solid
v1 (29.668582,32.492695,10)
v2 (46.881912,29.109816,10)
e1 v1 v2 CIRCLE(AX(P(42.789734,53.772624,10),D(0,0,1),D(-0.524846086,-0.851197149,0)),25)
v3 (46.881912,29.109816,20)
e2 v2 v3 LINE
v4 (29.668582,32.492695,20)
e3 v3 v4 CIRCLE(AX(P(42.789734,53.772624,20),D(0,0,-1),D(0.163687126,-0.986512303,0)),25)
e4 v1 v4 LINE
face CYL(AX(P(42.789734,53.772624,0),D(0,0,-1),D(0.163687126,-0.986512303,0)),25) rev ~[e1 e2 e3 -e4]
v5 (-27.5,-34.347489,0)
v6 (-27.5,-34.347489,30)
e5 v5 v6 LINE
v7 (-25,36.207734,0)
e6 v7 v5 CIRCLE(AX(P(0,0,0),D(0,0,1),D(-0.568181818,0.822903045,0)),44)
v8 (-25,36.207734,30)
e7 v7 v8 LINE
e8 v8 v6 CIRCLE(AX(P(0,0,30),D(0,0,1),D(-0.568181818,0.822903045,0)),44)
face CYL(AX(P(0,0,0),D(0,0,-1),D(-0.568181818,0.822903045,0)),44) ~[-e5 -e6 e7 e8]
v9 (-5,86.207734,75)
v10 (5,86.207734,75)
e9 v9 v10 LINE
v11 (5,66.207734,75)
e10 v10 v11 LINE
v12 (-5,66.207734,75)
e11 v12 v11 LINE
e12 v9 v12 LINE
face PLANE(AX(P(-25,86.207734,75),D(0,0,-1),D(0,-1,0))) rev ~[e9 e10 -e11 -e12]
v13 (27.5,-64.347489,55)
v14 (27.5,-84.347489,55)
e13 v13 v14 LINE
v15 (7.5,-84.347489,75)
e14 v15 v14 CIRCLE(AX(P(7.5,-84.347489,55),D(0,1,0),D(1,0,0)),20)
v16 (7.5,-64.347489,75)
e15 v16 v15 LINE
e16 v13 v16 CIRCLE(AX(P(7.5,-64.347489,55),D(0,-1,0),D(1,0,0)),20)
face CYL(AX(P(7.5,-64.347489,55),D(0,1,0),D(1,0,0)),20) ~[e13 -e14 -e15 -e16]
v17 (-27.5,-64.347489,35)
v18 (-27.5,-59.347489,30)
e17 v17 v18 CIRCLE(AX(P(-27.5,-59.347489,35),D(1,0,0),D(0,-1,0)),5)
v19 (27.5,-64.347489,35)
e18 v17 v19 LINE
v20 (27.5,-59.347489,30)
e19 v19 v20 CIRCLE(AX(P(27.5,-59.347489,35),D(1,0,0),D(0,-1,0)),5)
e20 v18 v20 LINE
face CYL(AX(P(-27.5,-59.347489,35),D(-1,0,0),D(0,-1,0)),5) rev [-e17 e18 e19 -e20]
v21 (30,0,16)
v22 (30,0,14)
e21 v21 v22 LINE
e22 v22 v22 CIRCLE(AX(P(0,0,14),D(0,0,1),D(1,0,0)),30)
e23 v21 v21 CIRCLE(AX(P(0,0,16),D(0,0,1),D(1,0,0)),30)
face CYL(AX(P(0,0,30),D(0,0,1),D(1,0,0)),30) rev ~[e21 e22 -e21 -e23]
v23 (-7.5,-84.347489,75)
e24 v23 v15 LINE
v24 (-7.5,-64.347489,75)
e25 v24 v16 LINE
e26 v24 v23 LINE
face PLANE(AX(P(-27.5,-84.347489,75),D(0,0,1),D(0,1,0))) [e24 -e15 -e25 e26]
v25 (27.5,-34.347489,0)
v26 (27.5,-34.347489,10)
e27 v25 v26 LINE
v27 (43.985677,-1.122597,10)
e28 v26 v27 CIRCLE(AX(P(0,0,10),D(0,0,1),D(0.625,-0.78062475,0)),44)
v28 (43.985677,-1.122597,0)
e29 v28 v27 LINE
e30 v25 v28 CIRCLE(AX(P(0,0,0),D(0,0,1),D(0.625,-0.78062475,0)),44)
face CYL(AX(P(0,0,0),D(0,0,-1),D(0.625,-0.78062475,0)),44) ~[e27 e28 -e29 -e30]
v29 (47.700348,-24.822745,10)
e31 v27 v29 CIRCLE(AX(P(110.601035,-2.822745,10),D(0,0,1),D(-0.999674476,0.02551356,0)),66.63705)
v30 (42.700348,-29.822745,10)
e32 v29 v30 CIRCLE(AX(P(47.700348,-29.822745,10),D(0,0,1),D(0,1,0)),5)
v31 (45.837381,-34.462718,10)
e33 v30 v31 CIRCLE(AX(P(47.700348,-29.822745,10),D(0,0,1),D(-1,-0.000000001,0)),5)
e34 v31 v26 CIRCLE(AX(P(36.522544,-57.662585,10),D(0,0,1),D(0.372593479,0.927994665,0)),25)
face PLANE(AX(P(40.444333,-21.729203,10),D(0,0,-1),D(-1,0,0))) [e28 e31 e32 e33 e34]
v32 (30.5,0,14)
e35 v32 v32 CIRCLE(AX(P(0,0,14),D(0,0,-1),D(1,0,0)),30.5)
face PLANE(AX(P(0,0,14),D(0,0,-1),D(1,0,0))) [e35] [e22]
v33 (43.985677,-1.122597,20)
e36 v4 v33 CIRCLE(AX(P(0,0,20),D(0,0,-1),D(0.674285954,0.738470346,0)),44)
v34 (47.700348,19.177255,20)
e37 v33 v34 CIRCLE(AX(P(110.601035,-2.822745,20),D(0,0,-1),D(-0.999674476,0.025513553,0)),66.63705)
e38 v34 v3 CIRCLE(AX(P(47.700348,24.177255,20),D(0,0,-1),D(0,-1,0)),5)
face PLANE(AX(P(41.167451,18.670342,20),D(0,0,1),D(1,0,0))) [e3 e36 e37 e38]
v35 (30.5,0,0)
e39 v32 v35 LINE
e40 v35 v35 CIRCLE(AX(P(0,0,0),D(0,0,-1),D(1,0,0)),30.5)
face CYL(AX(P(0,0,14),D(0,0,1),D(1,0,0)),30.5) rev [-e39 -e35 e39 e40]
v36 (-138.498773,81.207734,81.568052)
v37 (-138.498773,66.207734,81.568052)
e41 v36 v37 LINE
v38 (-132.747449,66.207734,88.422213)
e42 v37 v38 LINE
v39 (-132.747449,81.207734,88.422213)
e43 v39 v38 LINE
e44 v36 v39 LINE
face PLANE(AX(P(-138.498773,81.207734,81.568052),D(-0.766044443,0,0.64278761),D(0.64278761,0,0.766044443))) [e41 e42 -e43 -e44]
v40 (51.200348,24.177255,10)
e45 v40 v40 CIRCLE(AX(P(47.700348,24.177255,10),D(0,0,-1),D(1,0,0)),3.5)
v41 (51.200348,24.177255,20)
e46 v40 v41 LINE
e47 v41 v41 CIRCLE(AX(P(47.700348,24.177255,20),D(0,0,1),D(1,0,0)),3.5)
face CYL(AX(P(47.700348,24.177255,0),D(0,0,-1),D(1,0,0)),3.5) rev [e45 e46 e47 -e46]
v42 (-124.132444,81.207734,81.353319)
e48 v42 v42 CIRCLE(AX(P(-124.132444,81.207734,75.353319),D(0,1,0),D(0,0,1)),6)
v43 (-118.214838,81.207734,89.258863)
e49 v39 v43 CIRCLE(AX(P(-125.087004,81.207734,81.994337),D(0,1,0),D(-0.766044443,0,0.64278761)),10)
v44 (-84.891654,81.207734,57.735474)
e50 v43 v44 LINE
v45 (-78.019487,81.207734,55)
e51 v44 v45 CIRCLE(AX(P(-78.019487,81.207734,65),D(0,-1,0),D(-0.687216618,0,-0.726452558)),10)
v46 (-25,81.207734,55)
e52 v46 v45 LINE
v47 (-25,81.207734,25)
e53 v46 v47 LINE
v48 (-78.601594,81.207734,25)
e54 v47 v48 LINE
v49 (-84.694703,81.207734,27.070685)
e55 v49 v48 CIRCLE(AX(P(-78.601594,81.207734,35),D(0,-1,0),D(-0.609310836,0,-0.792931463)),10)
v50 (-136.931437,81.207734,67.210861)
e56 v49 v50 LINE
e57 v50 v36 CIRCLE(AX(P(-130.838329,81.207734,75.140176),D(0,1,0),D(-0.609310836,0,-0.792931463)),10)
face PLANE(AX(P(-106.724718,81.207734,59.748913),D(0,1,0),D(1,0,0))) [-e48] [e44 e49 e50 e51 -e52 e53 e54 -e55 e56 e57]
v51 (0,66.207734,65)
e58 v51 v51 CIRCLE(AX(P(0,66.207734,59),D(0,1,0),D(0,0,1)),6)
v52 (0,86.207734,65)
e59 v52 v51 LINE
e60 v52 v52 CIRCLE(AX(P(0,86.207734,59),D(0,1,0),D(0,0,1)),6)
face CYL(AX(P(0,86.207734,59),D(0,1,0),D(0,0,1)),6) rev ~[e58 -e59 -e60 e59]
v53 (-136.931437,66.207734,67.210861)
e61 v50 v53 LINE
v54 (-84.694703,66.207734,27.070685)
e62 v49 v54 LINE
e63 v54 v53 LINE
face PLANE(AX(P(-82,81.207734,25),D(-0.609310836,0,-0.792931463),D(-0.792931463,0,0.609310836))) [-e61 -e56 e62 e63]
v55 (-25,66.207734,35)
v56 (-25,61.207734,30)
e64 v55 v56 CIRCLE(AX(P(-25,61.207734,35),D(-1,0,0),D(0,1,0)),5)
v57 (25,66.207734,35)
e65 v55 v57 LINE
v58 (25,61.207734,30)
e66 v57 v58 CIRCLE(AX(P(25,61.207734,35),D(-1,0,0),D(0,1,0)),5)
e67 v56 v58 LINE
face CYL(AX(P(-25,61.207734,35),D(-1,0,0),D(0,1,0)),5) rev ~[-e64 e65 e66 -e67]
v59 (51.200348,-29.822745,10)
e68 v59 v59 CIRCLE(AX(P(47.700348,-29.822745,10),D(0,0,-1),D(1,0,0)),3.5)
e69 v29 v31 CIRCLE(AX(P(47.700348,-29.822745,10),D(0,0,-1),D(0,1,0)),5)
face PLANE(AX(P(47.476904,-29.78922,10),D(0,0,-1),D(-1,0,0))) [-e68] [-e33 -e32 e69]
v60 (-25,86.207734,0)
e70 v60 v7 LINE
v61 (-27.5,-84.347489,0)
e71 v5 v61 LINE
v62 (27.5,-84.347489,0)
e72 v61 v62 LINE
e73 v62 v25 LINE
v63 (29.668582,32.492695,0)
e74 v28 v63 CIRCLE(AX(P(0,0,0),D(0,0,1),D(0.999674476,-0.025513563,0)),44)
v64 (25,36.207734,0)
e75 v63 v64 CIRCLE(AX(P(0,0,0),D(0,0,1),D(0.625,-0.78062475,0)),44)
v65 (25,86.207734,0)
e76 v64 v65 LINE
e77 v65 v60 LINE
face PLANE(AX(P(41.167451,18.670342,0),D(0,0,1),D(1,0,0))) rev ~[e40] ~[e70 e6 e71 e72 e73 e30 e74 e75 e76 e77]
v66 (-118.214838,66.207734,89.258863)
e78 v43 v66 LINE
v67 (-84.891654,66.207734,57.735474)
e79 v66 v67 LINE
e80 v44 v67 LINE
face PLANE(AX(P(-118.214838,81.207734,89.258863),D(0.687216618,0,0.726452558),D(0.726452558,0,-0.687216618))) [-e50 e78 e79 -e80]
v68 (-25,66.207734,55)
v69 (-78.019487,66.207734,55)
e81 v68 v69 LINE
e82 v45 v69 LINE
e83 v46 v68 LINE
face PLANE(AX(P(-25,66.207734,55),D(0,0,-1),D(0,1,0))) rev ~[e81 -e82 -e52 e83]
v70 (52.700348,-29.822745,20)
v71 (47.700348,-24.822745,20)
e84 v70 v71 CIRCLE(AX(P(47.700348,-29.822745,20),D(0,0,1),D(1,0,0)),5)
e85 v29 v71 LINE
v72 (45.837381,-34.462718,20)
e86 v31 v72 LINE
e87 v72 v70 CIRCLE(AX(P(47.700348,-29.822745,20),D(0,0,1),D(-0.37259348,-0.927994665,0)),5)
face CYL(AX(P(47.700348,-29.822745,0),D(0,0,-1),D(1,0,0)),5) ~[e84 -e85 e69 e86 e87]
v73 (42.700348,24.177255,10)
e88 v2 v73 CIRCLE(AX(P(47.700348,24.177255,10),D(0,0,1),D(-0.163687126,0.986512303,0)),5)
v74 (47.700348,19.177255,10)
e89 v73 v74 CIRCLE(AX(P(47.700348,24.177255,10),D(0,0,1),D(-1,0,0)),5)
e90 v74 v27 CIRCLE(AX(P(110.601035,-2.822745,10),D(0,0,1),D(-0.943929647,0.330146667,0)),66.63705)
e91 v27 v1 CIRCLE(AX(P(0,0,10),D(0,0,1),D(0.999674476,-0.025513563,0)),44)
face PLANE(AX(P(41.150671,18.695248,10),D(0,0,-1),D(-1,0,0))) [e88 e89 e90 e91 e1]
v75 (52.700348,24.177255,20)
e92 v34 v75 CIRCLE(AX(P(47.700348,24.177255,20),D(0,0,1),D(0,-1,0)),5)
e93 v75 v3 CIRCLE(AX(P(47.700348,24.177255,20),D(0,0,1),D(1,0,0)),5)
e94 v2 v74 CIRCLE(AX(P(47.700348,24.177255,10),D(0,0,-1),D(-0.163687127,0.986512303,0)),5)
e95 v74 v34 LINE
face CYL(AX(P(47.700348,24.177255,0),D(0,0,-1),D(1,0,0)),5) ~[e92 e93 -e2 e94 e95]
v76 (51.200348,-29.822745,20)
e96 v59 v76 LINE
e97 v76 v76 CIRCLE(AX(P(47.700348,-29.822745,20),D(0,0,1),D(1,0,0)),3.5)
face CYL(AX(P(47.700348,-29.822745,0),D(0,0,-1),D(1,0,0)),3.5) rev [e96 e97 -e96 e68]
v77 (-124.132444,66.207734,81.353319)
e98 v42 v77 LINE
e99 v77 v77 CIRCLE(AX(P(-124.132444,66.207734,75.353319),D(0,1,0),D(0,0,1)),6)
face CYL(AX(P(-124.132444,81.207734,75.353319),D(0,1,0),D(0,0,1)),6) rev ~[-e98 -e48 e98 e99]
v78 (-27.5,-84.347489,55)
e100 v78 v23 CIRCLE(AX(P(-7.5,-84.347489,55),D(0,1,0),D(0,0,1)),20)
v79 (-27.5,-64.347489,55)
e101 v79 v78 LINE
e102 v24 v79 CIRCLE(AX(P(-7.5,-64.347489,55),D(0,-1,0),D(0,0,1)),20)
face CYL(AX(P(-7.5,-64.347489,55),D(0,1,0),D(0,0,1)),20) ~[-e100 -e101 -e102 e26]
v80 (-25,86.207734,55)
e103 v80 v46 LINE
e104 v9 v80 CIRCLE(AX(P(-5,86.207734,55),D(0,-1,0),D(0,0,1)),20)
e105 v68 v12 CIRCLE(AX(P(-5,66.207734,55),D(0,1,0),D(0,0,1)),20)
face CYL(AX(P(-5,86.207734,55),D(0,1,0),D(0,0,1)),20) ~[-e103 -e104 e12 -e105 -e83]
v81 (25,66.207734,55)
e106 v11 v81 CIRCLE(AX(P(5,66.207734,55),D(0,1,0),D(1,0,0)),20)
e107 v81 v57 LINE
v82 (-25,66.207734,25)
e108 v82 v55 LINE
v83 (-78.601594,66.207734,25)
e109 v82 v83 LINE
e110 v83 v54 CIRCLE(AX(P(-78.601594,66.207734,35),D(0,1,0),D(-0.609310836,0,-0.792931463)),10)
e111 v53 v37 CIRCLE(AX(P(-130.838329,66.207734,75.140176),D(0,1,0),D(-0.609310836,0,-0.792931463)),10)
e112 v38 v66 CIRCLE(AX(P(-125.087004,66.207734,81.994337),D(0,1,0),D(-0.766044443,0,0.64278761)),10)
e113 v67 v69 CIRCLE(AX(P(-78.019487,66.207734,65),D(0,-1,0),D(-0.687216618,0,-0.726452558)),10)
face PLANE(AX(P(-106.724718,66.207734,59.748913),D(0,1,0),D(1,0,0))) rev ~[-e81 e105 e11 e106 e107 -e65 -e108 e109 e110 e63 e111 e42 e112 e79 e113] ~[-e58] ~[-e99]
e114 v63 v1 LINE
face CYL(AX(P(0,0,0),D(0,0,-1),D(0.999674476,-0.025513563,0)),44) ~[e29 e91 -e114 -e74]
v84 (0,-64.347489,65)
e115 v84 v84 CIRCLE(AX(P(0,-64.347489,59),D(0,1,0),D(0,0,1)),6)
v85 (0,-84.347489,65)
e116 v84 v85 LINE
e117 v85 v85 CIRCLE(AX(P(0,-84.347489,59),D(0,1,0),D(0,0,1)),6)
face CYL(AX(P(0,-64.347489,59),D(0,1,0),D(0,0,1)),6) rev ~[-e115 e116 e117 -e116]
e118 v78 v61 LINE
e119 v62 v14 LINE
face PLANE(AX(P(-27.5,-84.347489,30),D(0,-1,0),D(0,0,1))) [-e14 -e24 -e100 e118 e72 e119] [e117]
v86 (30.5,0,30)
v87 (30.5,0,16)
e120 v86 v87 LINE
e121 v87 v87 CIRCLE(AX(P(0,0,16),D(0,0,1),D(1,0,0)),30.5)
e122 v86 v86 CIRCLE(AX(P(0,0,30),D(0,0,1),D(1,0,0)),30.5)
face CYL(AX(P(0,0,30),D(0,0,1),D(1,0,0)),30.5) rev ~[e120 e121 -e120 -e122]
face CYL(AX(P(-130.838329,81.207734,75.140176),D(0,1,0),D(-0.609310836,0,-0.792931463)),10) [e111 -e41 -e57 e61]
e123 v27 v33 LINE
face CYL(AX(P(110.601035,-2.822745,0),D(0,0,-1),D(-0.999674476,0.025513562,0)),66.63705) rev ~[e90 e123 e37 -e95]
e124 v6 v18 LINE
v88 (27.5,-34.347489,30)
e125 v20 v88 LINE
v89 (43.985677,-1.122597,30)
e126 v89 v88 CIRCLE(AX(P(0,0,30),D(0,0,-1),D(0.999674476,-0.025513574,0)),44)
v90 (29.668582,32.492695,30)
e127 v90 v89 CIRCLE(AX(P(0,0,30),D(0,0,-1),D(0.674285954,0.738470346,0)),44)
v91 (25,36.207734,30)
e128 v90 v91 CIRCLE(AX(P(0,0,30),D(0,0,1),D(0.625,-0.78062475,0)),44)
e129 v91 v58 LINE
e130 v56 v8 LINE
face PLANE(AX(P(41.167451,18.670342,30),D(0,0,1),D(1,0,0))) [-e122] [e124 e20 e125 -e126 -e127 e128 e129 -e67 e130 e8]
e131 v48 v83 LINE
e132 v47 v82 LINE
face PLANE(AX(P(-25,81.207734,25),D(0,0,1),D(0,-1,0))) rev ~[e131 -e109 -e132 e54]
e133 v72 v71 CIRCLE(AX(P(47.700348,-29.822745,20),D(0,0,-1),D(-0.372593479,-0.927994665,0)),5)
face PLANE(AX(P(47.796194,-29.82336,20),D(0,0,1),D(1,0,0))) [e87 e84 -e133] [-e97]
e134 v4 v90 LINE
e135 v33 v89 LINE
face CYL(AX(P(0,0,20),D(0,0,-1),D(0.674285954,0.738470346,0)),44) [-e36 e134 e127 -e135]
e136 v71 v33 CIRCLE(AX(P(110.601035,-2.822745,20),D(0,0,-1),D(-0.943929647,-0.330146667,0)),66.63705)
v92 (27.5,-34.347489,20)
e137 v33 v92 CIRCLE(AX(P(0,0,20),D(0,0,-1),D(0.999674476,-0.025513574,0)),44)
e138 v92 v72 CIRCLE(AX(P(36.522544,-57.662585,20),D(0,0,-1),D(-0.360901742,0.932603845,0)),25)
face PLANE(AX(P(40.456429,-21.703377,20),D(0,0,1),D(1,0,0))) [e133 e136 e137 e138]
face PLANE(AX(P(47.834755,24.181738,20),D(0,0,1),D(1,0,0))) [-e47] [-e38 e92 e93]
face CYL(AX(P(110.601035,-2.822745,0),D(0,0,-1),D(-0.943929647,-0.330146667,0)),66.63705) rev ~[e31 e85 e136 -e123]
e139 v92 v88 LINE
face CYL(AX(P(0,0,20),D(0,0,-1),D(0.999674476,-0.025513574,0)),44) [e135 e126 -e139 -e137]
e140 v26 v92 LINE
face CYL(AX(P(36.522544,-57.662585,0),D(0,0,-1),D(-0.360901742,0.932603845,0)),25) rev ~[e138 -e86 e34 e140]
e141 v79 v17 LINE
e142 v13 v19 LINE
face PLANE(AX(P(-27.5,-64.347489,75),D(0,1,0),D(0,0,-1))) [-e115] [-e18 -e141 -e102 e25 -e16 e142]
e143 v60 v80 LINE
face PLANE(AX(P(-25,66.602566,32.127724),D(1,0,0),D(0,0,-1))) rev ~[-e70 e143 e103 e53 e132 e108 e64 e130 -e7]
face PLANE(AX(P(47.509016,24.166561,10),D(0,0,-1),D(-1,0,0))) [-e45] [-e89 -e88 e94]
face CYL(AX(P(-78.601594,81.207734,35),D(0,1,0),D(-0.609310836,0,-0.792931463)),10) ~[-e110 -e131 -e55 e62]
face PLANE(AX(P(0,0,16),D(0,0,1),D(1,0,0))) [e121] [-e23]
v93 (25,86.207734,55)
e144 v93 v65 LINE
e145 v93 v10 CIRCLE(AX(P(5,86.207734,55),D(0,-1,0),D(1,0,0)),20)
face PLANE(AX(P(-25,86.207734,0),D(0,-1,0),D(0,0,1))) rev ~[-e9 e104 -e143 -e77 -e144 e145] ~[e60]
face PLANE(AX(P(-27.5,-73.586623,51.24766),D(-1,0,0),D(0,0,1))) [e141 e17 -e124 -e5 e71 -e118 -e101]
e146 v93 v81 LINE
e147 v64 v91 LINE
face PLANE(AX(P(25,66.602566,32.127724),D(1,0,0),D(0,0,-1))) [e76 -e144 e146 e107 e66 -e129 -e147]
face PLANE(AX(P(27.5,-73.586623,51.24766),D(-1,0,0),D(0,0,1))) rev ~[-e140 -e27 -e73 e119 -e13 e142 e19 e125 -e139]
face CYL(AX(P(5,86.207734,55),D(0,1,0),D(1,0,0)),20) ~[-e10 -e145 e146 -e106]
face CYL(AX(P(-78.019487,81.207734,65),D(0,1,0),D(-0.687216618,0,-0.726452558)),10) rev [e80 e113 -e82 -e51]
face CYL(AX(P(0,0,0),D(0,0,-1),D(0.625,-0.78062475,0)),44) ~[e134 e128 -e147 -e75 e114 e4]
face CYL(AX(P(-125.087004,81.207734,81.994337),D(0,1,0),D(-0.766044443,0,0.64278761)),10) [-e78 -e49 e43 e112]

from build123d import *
from build123d.topology import SkipClean

# Parameters (mm, degrees)
BOSS_EXTRUDE1_DEPTH = 30
BOSS_EXTRUDE2_DEPTH = 55
BOSS_EXTRUDE3_DEPTH = 50
SKETCH7_R           = 6
CUT_EXTRUDE4_DEPTH  = 174.861655244
SKETCH9_R           = 6
CUT_EXTRUDE6_DEPTH  = 50
BOSS_EXTRUDE4_DEPTH = 57
BOSS_EXTRUDE5_DEPTH = 15
CUT_EXTRUDE8_DEPTH  = 20
SKETCH14_R          = 6
CUT_EXTRUDE9_DEPTH  = 20
SKETCH29_R          = 30
CUT_EXTRUDE10_DEPTH = 177.381705753
SKETCH31_R          = 30.5
CUT_EXTRUDE11_DEPTH = 14
CUT_EXTRUDE12_START = -14
SKETCH32_R          = 30.5
CUT_EXTRUDE12_DEPTH = 14
BOSS_EXTRUDE6_START = -30
SKETCH33_R          = 5
SKETCH33_R_2        = 3.5
BOSS_EXTRUDE6_DEPTH = 30
CUT_EXTRUDE13_START = -10
SKETCH34_R          = 3.5
CUT_EXTRUDE13_DEPTH = 10
SKETCH35_R          = 3.5
CUT_EXTRUDE14_DEPTH = 10


with BuildPart() as part:
    # Sketch1 → Boss-Extrude1 (new body)
    with BuildSketch(Plane.XY):
        with BuildLine():
            Line((-25, 86.20773398), (-25, 36.20773398))
            ThreePointArc((-25, 36.20773398), (-43.972404666, 1.558084675), (-27.5, -34.347488991))
            Line((-27.5, -34.347488991), (-27.5, -84.347488991))
            Line((-27.5, -84.347488991), (27.5, -84.347488991))
            Line((27.5, -84.347488991), (27.5, -34.347488991))
            ThreePointArc((27.5, -34.347488991), (43.972404666, 1.558084675), (25, 36.20773398))
            Line((25, 36.20773398), (25, 86.20773398))
            Line((25, 86.20773398), (-25, 86.20773398))
        make_face()
    extrude(amount=BOSS_EXTRUDE1_DEPTH)

    # Sketch3 → Boss-Extrude2 (add)
    with BuildSketch(Plane.ZY.offset(27.5)):
        with BuildLine():
            Line((30, -59.347488991), (30, -84.347488991))
            Line((30, -84.347488991), (55, -84.347488991))
            Line((55, -84.347488991), (75, -84.347488991))
            Line((75, -84.347488991), (75, -79.347488991))
            Line((75, -79.347488991), (75, -69.347488991))
            Line((75, -69.347488991), (75, -64.347488991))
            Line((75, -64.347488991), (55, -64.347488991))
            Line((55, -64.347488991), (35, -64.347488991))
            ThreePointArc((35, -64.347488991), (31.464466094, -62.883022897), (30, -59.347488991))
        make_face()
    extrude(amount=-BOSS_EXTRUDE2_DEPTH)

    # Sketch5 → Boss-Extrude3 (add)
    with BuildSketch(Plane.ZY.offset(25)):
        with BuildLine():
            Line((30, 86.20773398), (55, 86.20773398))
            Line((55, 86.20773398), (75, 86.20773398))
            Line((75, 86.20773398), (75, 81.20773398))
            Line((75, 81.20773398), (75, 71.20773398))
            Line((75, 71.20773398), (75, 66.20773398))
            Line((75, 66.20773398), (70, 66.20773398))
            Line((70, 66.20773398), (35, 66.20773398))
            ThreePointArc((35, 66.20773398), (31.464466094, 64.743267886), (30, 61.20773398))
            Line((30, 61.20773398), (30, 36.20773398))
            Line((30, 36.20773398), (0, 36.20773398))
            Line((0, 36.20773398), (0, 86.20773398))
            Line((0, 86.20773398), (30, 86.20773398))
        make_face()
    extrude(amount=-BOSS_EXTRUDE3_DEPTH)

    # Sketch7 → Cut-Extrude4 (cut, through all)
    with BuildSketch(Plane(origin=(0, -64.347488991, 0), x_dir=(1, 0, 0), z_dir=(0, 1, 0))):
        with BuildLine():
            Line((-27.5, -75), (-7.5, -75))
            ThreePointArc((-7.5, -75), (-21.642135624, -69.142135624), (-27.5, -55))
            Line((-27.5, -55), (-27.5, -75))
        make_face()
        with BuildLine():
            ThreePointArc((27.5, -55), (21.642135624, -69.142135624), (7.5, -75))
            Line((7.5, -75), (27.5, -75))
            Line((27.5, -75), (27.5, -55))
        make_face()
        with Locations(Location((0, -59, 0), (0, 0, 270))):
            Circle(SKETCH7_R)
    extrude(amount=-CUT_EXTRUDE4_DEPTH, mode=Mode.SUBTRACT)

    # Sketch9 → Cut-Extrude6 (cut)
    with BuildSketch(Plane(origin=(0, 86.20773398, 0), x_dir=(1, 0, 0), z_dir=(0, 1, 0))):
        with Locations(Location((0, -59, 0), (0, 0, 270))):
            Circle(SKETCH9_R)
        with BuildLine():
            ThreePointArc((-5, -75), (-19.142135624, -69.142135624), (-25, -55))
            Line((-25, -55), (-25, -75))
            Line((-25, -75), (-5, -75))
        make_face()
        with BuildLine():
            Line((25, -75), (25, -55))
            ThreePointArc((25, -55), (19.142135624, -69.142135624), (5, -75))
            Line((5, -75), (25, -75))
        make_face()
    extrude(amount=-CUT_EXTRUDE6_DEPTH, mode=Mode.SUBTRACT)

    # 3DSketch1 → Boss-Extrude4 (add)
    with BuildSketch(Plane(origin=(-25, 66.20773398, 55), x_dir=(0, 0.44721359549995654, -0.8944271909999166), z_dir=(-1, 0, 0))):
        Polygon((0, 0), (6.708203932, -13.416407865), (33.541019662, 0), (26.83281573, 13.416407865), align=None)
    extrude(amount=BOSS_EXTRUDE4_DEPTH)

    # Sketch11 → Boss-Extrude5 (add)
    with BuildSketch(Plane(origin=(0, 81.20773398, 0), x_dir=(1, 0, 0), z_dir=(0, 1, 0))):
        with BuildLine():
            Line((-82, -25), (-136.931437168, -67.210861168))
            ThreePointArc((-136.931437168, -67.210861168), (-140.779268652, -74.054950012), (-138.498773239, -81.568051896))
            Line((-138.498773239, -81.568051896), (-132.747448798, -88.42221346))
            ThreePointArc((-132.747448798, -88.42221346), (-125.661757565, -91.977806638), (-118.214838183, -89.258862946))
            Line((-118.214838183, -89.258862946), (-84.891653571, -57.735474417))
            ThreePointArc((-84.891653571, -57.735474417), (-81.717780519, -55.709002857), (-78.019487387, -55))
            Line((-78.019487387, -55), (-82, -55))
            Line((-82, -55), (-82, -25))
        make_face()
    extrude(amount=-BOSS_EXTRUDE5_DEPTH)

    # Sketch13 → Cut-Extrude8 (cut)
    with BuildSketch(Plane(origin=(0, 81.20773398, 0), x_dir=(1, 0, 0), z_dir=(0, 1, 0))):
        with BuildLine():
            Line((-82, -25), (-84.69470274, -27.070685369))
            ThreePointArc((-84.69470274, -27.070685369), (-81.819268516, -25.531812573), (-78.60159438, -25))
            Line((-78.60159438, -25), (-82, -25))
        make_face()
    extrude(amount=-CUT_EXTRUDE8_DEPTH, mode=Mode.SUBTRACT)

    # Sketch14 → Cut-Extrude9 (cut)
    with BuildSketch(Plane(origin=(0, 81.20773398, 0), x_dir=(1, 0, 0), z_dir=(0, 1, 0))):
        with Locations(Location((-124.132444372, -75.353318533, 0), (0, 0, 270))):
            Circle(SKETCH14_R)
    extrude(amount=-CUT_EXTRUDE9_DEPTH, mode=Mode.SUBTRACT)

    # Sketch29 → Cut-Extrude10 (cut, through all)
    with BuildSketch(Plane.XY.offset(30)):
        Circle(SKETCH29_R)
    extrude(amount=-CUT_EXTRUDE10_DEPTH, mode=Mode.SUBTRACT)

    # Sketch31 → Cut-Extrude11 (cut)
    with BuildSketch(Plane.XY.offset(30)):
        Circle(SKETCH31_R)
    extrude(amount=-CUT_EXTRUDE11_DEPTH, mode=Mode.SUBTRACT)

    # Sketch32 → Cut-Extrude12 (cut)
    with BuildSketch(Plane(origin=(0, 0, 0), x_dir=(-1, 0, 0), z_dir=(0, 0, -1)).offset(CUT_EXTRUDE12_START)):
        with Locations(Location((0, 0, 0), (0, 0, 180))):
            Circle(SKETCH32_R)
    extrude(amount=CUT_EXTRUDE12_DEPTH, mode=Mode.SUBTRACT)

    # Sketch33 → Boss-Extrude6 (add)
    # profile 1 of 4: a face of its own
    with BuildSketch(Plane.XY.offset(30).offset(BOSS_EXTRUDE6_START)):
        with BuildLine():
            ThreePointArc((29.668581995, 32.492695216), (40.481284897, 17.241391274), (43.98567695, -1.122596647))
            ThreePointArc((43.98567695, -1.122596647), (45.052408179, 9.172001814), (47.700347933, 19.177254836))
            ThreePointArc((47.700347933, 19.177254836), (42.717236075, 23.76665015), (46.881912301, 29.109816353))
            ThreePointArc((46.881912301, 29.109816353), (37.968784011, 29.241858766), (29.668581995, 32.492695216))
        make_face()
    # profile 2 of 4: a face of its own
    with BuildSketch(Plane.XY.offset(30).offset(BOSS_EXTRUDE6_START)):
        with BuildLine():
            ThreePointArc((43.98567695, -1.122596647), (39.414767157, -19.556996956), (27.5, -34.347488991))
            ThreePointArc((27.5, -34.347488991), (36.679636907, -32.663078699), (45.837380536, -34.462718491))
            ThreePointArc((45.837380536, -34.462718491), (42.791179641, -28.874026722), (47.700347933, -24.822745164))
            ThreePointArc((47.700347933, -24.822745164), (44.767717102, -13.1412086), (43.98567695, -1.122596647))
        make_face()
    # profile 3 of 4: a face of its own
    with BuildSketch(Plane.XY.offset(30).offset(BOSS_EXTRUDE6_START)):
        with Locations((47.700347933, 24.177254836)):
            Circle(SKETCH33_R)
        with Locations((47.700347933, 24.177254836)):
            Circle(SKETCH33_R_2, mode=Mode.SUBTRACT)
    # profile 4 of 4: a face of its own
    with BuildSketch(Plane.XY.offset(30).offset(BOSS_EXTRUDE6_START)):
        with Locations((47.700347933, -29.822745164)):
            Circle(SKETCH33_R)
        with Locations((47.700347933, -29.822745164)):
            Circle(SKETCH33_R_2, mode=Mode.SUBTRACT)
    extrude(amount=BOSS_EXTRUDE6_DEPTH)

    # Sketch34 → Cut-Extrude13 (cut)
    # profile 1 of 4: a face of its own
    with SkipClean():  # the faces are left unmerged after this step: merging them gives an invalid solid
        with BuildSketch(Plane.XY.offset(30).offset(CUT_EXTRUDE13_START)):
            with BuildLine():
                ThreePointArc((47.700347933, 19.177254836), (42.717236075, 23.76665015), (46.881912301, 29.109816353))
                ThreePointArc((46.881912301, 29.109816353), (37.968784011, 29.241858766), (29.668581995, 32.492695216))
                ThreePointArc((29.668581995, 32.492695216), (40.481285017, 17.241390992), (43.985676935, -1.122597259))
                ThreePointArc((43.985676935, -1.122597259), (45.052408124, 9.172001513), (47.700347933, 19.177254836))
            make_face()
        # profile 2 of 4: a face of its own
        with BuildSketch(Plane.XY.offset(30).offset(CUT_EXTRUDE13_START)):
            with BuildLine():
                ThreePointArc((47.700347933, 19.177254836), (51.235881839, 20.64172093), (52.700347933, 24.177254836))
                ThreePointArc((52.700347933, 24.177254836), (50.933598762, 27.99118838), (46.881912301, 29.109816353))
                ThreePointArc((46.881912301, 29.109816353), (42.717236075, 23.76665015), (47.700347933, 19.177254836))
            make_face()
            with Locations((47.700347933, 24.177254836)):
                Circle(SKETCH34_R, mode=Mode.SUBTRACT)
        # profile 3 of 4: a face of its own
        with BuildSketch(Plane.XY.offset(30).offset(CUT_EXTRUDE13_START)):
            with BuildLine():
                ThreePointArc((47.700347933, -24.822745164), (44.767717149, -13.141208903), (43.985676935, -1.122597259))
                ThreePointArc((43.985676935, -1.122597259), (39.414767021, -19.55699723), (27.5, -34.347488991))
                ThreePointArc((27.5, -34.347488991), (36.679636907, -32.663078699), (45.837380536, -34.462718491))
                ThreePointArc((45.837380536, -34.462718491), (42.791179641, -28.874026722), (47.700347933, -24.822745164))
            make_face()
        # profile 4 of 4: a face of its own
        with BuildSketch(Plane.XY.offset(30).offset(CUT_EXTRUDE13_START)):
            with BuildLine():
                ThreePointArc((52.700347933, -29.822745164), (51.235881839, -26.287211258), (47.700347933, -24.822745164))
                ThreePointArc((47.700347933, -24.822745164), (42.791179641, -28.874026722), (45.837380536, -34.462718491))
                ThreePointArc((45.837380536, -34.462718491), (50.500808879, -33.964896597), (52.700347933, -29.822745164))
            make_face()
            with Locations((47.700347933, -29.822745164)):
                Circle(SKETCH34_R, mode=Mode.SUBTRACT)
        extrude(amount=CUT_EXTRUDE13_DEPTH, mode=Mode.SUBTRACT)

    # Sketch35 → Cut-Extrude14 (cut)
    # profile 1 of 4: a face of its own
    with SkipClean():  # the faces are left unmerged after this step: merging them gives an invalid solid
        with BuildSketch(Plane(origin=(0, 0, 0), x_dir=(-1, 0, 0), z_dir=(0, 0, -1))):
            with BuildLine():
                ThreePointArc((-43.985676947, -1.122596764), (-40.48128492, 17.24139122), (-29.668581995, 32.492695216))
                ThreePointArc((-29.668581995, 32.492695216), (-37.968784011, 29.241858766), (-46.881912301, 29.109816353))
                ThreePointArc((-46.881912301, 29.109816353), (-43.886414389, 27.410505665), (-42.700347933, 24.177254836))
                ThreePointArc((-42.700347933, 24.177254836), (-44.164814027, 20.64172093), (-47.700347933, 19.177254836))
                ThreePointArc((-47.700347933, 19.177254836), (-45.052408168, 9.172001756), (-43.985676947, -1.122596764))
            make_face()
        # profile 2 of 4: a face of its own
        with BuildSketch(Plane(origin=(0, 0, 0), x_dir=(-1, 0, 0), z_dir=(0, 0, -1))):
            with BuildLine():
                ThreePointArc((-42.700347933, 24.177254836), (-43.886414389, 27.410505665), (-46.881912301, 29.109816353))
                ThreePointArc((-46.881912301, 29.109816353), (-52.683459792, 24.587859522), (-47.700347933, 19.177254836))
                ThreePointArc((-47.700347933, 19.177254836), (-44.164814027, 20.64172093), (-42.700347933, 24.177254836))
            make_face()
            with Locations(Location((-47.700347933, 24.177254836, 0), (0, 0, 180))):
                Circle(SKETCH35_R, mode=Mode.SUBTRACT)
        # profile 3 of 4: a face of its own
        with BuildSketch(Plane(origin=(0, 0, 0), x_dir=(-1, 0, 0), z_dir=(0, 0, -1))):
            with BuildLine():
                ThreePointArc((-27.5, -34.347488991), (-39.414767131, -19.556997008), (-43.985676947, -1.122596764))
                ThreePointArc((-43.985676947, -1.122596764), (-44.767717111, -13.141208658), (-47.700347933, -24.822745164))
                ThreePointArc((-47.700347933, -24.822745164), (-44.164814027, -26.287211258), (-42.700347933, -29.822745164))
                ThreePointArc((-42.700347933, -29.822745164), (-43.558196501, -32.623206109), (-45.837380536, -34.462718491))
                ThreePointArc((-45.837380536, -34.462718491), (-36.679636907, -32.663078699), (-27.5, -34.347488991))
            make_face()
        # profile 4 of 4: a face of its own
        with BuildSketch(Plane(origin=(0, 0, 0), x_dir=(-1, 0, 0), z_dir=(0, 0, -1))):
            with BuildLine():
                ThreePointArc((-42.700347933, -29.822745164), (-44.164814027, -26.287211258), (-47.700347933, -24.822745164))
                ThreePointArc((-47.700347933, -24.822745164), (-52.609516225, -30.771463606), (-45.837380536, -34.462718491))
                ThreePointArc((-45.837380536, -34.462718491), (-43.558196501, -32.623206109), (-42.700347933, -29.822745164))
            make_face()
            with Locations(Location((-47.700347933, -29.822745164, 0), (0, 0, 180))):
                Circle(SKETCH35_R, mode=Mode.SUBTRACT)
        extrude(amount=-CUT_EXTRUDE14_DEPTH, mode=Mode.SUBTRACT)


solid = part.part
